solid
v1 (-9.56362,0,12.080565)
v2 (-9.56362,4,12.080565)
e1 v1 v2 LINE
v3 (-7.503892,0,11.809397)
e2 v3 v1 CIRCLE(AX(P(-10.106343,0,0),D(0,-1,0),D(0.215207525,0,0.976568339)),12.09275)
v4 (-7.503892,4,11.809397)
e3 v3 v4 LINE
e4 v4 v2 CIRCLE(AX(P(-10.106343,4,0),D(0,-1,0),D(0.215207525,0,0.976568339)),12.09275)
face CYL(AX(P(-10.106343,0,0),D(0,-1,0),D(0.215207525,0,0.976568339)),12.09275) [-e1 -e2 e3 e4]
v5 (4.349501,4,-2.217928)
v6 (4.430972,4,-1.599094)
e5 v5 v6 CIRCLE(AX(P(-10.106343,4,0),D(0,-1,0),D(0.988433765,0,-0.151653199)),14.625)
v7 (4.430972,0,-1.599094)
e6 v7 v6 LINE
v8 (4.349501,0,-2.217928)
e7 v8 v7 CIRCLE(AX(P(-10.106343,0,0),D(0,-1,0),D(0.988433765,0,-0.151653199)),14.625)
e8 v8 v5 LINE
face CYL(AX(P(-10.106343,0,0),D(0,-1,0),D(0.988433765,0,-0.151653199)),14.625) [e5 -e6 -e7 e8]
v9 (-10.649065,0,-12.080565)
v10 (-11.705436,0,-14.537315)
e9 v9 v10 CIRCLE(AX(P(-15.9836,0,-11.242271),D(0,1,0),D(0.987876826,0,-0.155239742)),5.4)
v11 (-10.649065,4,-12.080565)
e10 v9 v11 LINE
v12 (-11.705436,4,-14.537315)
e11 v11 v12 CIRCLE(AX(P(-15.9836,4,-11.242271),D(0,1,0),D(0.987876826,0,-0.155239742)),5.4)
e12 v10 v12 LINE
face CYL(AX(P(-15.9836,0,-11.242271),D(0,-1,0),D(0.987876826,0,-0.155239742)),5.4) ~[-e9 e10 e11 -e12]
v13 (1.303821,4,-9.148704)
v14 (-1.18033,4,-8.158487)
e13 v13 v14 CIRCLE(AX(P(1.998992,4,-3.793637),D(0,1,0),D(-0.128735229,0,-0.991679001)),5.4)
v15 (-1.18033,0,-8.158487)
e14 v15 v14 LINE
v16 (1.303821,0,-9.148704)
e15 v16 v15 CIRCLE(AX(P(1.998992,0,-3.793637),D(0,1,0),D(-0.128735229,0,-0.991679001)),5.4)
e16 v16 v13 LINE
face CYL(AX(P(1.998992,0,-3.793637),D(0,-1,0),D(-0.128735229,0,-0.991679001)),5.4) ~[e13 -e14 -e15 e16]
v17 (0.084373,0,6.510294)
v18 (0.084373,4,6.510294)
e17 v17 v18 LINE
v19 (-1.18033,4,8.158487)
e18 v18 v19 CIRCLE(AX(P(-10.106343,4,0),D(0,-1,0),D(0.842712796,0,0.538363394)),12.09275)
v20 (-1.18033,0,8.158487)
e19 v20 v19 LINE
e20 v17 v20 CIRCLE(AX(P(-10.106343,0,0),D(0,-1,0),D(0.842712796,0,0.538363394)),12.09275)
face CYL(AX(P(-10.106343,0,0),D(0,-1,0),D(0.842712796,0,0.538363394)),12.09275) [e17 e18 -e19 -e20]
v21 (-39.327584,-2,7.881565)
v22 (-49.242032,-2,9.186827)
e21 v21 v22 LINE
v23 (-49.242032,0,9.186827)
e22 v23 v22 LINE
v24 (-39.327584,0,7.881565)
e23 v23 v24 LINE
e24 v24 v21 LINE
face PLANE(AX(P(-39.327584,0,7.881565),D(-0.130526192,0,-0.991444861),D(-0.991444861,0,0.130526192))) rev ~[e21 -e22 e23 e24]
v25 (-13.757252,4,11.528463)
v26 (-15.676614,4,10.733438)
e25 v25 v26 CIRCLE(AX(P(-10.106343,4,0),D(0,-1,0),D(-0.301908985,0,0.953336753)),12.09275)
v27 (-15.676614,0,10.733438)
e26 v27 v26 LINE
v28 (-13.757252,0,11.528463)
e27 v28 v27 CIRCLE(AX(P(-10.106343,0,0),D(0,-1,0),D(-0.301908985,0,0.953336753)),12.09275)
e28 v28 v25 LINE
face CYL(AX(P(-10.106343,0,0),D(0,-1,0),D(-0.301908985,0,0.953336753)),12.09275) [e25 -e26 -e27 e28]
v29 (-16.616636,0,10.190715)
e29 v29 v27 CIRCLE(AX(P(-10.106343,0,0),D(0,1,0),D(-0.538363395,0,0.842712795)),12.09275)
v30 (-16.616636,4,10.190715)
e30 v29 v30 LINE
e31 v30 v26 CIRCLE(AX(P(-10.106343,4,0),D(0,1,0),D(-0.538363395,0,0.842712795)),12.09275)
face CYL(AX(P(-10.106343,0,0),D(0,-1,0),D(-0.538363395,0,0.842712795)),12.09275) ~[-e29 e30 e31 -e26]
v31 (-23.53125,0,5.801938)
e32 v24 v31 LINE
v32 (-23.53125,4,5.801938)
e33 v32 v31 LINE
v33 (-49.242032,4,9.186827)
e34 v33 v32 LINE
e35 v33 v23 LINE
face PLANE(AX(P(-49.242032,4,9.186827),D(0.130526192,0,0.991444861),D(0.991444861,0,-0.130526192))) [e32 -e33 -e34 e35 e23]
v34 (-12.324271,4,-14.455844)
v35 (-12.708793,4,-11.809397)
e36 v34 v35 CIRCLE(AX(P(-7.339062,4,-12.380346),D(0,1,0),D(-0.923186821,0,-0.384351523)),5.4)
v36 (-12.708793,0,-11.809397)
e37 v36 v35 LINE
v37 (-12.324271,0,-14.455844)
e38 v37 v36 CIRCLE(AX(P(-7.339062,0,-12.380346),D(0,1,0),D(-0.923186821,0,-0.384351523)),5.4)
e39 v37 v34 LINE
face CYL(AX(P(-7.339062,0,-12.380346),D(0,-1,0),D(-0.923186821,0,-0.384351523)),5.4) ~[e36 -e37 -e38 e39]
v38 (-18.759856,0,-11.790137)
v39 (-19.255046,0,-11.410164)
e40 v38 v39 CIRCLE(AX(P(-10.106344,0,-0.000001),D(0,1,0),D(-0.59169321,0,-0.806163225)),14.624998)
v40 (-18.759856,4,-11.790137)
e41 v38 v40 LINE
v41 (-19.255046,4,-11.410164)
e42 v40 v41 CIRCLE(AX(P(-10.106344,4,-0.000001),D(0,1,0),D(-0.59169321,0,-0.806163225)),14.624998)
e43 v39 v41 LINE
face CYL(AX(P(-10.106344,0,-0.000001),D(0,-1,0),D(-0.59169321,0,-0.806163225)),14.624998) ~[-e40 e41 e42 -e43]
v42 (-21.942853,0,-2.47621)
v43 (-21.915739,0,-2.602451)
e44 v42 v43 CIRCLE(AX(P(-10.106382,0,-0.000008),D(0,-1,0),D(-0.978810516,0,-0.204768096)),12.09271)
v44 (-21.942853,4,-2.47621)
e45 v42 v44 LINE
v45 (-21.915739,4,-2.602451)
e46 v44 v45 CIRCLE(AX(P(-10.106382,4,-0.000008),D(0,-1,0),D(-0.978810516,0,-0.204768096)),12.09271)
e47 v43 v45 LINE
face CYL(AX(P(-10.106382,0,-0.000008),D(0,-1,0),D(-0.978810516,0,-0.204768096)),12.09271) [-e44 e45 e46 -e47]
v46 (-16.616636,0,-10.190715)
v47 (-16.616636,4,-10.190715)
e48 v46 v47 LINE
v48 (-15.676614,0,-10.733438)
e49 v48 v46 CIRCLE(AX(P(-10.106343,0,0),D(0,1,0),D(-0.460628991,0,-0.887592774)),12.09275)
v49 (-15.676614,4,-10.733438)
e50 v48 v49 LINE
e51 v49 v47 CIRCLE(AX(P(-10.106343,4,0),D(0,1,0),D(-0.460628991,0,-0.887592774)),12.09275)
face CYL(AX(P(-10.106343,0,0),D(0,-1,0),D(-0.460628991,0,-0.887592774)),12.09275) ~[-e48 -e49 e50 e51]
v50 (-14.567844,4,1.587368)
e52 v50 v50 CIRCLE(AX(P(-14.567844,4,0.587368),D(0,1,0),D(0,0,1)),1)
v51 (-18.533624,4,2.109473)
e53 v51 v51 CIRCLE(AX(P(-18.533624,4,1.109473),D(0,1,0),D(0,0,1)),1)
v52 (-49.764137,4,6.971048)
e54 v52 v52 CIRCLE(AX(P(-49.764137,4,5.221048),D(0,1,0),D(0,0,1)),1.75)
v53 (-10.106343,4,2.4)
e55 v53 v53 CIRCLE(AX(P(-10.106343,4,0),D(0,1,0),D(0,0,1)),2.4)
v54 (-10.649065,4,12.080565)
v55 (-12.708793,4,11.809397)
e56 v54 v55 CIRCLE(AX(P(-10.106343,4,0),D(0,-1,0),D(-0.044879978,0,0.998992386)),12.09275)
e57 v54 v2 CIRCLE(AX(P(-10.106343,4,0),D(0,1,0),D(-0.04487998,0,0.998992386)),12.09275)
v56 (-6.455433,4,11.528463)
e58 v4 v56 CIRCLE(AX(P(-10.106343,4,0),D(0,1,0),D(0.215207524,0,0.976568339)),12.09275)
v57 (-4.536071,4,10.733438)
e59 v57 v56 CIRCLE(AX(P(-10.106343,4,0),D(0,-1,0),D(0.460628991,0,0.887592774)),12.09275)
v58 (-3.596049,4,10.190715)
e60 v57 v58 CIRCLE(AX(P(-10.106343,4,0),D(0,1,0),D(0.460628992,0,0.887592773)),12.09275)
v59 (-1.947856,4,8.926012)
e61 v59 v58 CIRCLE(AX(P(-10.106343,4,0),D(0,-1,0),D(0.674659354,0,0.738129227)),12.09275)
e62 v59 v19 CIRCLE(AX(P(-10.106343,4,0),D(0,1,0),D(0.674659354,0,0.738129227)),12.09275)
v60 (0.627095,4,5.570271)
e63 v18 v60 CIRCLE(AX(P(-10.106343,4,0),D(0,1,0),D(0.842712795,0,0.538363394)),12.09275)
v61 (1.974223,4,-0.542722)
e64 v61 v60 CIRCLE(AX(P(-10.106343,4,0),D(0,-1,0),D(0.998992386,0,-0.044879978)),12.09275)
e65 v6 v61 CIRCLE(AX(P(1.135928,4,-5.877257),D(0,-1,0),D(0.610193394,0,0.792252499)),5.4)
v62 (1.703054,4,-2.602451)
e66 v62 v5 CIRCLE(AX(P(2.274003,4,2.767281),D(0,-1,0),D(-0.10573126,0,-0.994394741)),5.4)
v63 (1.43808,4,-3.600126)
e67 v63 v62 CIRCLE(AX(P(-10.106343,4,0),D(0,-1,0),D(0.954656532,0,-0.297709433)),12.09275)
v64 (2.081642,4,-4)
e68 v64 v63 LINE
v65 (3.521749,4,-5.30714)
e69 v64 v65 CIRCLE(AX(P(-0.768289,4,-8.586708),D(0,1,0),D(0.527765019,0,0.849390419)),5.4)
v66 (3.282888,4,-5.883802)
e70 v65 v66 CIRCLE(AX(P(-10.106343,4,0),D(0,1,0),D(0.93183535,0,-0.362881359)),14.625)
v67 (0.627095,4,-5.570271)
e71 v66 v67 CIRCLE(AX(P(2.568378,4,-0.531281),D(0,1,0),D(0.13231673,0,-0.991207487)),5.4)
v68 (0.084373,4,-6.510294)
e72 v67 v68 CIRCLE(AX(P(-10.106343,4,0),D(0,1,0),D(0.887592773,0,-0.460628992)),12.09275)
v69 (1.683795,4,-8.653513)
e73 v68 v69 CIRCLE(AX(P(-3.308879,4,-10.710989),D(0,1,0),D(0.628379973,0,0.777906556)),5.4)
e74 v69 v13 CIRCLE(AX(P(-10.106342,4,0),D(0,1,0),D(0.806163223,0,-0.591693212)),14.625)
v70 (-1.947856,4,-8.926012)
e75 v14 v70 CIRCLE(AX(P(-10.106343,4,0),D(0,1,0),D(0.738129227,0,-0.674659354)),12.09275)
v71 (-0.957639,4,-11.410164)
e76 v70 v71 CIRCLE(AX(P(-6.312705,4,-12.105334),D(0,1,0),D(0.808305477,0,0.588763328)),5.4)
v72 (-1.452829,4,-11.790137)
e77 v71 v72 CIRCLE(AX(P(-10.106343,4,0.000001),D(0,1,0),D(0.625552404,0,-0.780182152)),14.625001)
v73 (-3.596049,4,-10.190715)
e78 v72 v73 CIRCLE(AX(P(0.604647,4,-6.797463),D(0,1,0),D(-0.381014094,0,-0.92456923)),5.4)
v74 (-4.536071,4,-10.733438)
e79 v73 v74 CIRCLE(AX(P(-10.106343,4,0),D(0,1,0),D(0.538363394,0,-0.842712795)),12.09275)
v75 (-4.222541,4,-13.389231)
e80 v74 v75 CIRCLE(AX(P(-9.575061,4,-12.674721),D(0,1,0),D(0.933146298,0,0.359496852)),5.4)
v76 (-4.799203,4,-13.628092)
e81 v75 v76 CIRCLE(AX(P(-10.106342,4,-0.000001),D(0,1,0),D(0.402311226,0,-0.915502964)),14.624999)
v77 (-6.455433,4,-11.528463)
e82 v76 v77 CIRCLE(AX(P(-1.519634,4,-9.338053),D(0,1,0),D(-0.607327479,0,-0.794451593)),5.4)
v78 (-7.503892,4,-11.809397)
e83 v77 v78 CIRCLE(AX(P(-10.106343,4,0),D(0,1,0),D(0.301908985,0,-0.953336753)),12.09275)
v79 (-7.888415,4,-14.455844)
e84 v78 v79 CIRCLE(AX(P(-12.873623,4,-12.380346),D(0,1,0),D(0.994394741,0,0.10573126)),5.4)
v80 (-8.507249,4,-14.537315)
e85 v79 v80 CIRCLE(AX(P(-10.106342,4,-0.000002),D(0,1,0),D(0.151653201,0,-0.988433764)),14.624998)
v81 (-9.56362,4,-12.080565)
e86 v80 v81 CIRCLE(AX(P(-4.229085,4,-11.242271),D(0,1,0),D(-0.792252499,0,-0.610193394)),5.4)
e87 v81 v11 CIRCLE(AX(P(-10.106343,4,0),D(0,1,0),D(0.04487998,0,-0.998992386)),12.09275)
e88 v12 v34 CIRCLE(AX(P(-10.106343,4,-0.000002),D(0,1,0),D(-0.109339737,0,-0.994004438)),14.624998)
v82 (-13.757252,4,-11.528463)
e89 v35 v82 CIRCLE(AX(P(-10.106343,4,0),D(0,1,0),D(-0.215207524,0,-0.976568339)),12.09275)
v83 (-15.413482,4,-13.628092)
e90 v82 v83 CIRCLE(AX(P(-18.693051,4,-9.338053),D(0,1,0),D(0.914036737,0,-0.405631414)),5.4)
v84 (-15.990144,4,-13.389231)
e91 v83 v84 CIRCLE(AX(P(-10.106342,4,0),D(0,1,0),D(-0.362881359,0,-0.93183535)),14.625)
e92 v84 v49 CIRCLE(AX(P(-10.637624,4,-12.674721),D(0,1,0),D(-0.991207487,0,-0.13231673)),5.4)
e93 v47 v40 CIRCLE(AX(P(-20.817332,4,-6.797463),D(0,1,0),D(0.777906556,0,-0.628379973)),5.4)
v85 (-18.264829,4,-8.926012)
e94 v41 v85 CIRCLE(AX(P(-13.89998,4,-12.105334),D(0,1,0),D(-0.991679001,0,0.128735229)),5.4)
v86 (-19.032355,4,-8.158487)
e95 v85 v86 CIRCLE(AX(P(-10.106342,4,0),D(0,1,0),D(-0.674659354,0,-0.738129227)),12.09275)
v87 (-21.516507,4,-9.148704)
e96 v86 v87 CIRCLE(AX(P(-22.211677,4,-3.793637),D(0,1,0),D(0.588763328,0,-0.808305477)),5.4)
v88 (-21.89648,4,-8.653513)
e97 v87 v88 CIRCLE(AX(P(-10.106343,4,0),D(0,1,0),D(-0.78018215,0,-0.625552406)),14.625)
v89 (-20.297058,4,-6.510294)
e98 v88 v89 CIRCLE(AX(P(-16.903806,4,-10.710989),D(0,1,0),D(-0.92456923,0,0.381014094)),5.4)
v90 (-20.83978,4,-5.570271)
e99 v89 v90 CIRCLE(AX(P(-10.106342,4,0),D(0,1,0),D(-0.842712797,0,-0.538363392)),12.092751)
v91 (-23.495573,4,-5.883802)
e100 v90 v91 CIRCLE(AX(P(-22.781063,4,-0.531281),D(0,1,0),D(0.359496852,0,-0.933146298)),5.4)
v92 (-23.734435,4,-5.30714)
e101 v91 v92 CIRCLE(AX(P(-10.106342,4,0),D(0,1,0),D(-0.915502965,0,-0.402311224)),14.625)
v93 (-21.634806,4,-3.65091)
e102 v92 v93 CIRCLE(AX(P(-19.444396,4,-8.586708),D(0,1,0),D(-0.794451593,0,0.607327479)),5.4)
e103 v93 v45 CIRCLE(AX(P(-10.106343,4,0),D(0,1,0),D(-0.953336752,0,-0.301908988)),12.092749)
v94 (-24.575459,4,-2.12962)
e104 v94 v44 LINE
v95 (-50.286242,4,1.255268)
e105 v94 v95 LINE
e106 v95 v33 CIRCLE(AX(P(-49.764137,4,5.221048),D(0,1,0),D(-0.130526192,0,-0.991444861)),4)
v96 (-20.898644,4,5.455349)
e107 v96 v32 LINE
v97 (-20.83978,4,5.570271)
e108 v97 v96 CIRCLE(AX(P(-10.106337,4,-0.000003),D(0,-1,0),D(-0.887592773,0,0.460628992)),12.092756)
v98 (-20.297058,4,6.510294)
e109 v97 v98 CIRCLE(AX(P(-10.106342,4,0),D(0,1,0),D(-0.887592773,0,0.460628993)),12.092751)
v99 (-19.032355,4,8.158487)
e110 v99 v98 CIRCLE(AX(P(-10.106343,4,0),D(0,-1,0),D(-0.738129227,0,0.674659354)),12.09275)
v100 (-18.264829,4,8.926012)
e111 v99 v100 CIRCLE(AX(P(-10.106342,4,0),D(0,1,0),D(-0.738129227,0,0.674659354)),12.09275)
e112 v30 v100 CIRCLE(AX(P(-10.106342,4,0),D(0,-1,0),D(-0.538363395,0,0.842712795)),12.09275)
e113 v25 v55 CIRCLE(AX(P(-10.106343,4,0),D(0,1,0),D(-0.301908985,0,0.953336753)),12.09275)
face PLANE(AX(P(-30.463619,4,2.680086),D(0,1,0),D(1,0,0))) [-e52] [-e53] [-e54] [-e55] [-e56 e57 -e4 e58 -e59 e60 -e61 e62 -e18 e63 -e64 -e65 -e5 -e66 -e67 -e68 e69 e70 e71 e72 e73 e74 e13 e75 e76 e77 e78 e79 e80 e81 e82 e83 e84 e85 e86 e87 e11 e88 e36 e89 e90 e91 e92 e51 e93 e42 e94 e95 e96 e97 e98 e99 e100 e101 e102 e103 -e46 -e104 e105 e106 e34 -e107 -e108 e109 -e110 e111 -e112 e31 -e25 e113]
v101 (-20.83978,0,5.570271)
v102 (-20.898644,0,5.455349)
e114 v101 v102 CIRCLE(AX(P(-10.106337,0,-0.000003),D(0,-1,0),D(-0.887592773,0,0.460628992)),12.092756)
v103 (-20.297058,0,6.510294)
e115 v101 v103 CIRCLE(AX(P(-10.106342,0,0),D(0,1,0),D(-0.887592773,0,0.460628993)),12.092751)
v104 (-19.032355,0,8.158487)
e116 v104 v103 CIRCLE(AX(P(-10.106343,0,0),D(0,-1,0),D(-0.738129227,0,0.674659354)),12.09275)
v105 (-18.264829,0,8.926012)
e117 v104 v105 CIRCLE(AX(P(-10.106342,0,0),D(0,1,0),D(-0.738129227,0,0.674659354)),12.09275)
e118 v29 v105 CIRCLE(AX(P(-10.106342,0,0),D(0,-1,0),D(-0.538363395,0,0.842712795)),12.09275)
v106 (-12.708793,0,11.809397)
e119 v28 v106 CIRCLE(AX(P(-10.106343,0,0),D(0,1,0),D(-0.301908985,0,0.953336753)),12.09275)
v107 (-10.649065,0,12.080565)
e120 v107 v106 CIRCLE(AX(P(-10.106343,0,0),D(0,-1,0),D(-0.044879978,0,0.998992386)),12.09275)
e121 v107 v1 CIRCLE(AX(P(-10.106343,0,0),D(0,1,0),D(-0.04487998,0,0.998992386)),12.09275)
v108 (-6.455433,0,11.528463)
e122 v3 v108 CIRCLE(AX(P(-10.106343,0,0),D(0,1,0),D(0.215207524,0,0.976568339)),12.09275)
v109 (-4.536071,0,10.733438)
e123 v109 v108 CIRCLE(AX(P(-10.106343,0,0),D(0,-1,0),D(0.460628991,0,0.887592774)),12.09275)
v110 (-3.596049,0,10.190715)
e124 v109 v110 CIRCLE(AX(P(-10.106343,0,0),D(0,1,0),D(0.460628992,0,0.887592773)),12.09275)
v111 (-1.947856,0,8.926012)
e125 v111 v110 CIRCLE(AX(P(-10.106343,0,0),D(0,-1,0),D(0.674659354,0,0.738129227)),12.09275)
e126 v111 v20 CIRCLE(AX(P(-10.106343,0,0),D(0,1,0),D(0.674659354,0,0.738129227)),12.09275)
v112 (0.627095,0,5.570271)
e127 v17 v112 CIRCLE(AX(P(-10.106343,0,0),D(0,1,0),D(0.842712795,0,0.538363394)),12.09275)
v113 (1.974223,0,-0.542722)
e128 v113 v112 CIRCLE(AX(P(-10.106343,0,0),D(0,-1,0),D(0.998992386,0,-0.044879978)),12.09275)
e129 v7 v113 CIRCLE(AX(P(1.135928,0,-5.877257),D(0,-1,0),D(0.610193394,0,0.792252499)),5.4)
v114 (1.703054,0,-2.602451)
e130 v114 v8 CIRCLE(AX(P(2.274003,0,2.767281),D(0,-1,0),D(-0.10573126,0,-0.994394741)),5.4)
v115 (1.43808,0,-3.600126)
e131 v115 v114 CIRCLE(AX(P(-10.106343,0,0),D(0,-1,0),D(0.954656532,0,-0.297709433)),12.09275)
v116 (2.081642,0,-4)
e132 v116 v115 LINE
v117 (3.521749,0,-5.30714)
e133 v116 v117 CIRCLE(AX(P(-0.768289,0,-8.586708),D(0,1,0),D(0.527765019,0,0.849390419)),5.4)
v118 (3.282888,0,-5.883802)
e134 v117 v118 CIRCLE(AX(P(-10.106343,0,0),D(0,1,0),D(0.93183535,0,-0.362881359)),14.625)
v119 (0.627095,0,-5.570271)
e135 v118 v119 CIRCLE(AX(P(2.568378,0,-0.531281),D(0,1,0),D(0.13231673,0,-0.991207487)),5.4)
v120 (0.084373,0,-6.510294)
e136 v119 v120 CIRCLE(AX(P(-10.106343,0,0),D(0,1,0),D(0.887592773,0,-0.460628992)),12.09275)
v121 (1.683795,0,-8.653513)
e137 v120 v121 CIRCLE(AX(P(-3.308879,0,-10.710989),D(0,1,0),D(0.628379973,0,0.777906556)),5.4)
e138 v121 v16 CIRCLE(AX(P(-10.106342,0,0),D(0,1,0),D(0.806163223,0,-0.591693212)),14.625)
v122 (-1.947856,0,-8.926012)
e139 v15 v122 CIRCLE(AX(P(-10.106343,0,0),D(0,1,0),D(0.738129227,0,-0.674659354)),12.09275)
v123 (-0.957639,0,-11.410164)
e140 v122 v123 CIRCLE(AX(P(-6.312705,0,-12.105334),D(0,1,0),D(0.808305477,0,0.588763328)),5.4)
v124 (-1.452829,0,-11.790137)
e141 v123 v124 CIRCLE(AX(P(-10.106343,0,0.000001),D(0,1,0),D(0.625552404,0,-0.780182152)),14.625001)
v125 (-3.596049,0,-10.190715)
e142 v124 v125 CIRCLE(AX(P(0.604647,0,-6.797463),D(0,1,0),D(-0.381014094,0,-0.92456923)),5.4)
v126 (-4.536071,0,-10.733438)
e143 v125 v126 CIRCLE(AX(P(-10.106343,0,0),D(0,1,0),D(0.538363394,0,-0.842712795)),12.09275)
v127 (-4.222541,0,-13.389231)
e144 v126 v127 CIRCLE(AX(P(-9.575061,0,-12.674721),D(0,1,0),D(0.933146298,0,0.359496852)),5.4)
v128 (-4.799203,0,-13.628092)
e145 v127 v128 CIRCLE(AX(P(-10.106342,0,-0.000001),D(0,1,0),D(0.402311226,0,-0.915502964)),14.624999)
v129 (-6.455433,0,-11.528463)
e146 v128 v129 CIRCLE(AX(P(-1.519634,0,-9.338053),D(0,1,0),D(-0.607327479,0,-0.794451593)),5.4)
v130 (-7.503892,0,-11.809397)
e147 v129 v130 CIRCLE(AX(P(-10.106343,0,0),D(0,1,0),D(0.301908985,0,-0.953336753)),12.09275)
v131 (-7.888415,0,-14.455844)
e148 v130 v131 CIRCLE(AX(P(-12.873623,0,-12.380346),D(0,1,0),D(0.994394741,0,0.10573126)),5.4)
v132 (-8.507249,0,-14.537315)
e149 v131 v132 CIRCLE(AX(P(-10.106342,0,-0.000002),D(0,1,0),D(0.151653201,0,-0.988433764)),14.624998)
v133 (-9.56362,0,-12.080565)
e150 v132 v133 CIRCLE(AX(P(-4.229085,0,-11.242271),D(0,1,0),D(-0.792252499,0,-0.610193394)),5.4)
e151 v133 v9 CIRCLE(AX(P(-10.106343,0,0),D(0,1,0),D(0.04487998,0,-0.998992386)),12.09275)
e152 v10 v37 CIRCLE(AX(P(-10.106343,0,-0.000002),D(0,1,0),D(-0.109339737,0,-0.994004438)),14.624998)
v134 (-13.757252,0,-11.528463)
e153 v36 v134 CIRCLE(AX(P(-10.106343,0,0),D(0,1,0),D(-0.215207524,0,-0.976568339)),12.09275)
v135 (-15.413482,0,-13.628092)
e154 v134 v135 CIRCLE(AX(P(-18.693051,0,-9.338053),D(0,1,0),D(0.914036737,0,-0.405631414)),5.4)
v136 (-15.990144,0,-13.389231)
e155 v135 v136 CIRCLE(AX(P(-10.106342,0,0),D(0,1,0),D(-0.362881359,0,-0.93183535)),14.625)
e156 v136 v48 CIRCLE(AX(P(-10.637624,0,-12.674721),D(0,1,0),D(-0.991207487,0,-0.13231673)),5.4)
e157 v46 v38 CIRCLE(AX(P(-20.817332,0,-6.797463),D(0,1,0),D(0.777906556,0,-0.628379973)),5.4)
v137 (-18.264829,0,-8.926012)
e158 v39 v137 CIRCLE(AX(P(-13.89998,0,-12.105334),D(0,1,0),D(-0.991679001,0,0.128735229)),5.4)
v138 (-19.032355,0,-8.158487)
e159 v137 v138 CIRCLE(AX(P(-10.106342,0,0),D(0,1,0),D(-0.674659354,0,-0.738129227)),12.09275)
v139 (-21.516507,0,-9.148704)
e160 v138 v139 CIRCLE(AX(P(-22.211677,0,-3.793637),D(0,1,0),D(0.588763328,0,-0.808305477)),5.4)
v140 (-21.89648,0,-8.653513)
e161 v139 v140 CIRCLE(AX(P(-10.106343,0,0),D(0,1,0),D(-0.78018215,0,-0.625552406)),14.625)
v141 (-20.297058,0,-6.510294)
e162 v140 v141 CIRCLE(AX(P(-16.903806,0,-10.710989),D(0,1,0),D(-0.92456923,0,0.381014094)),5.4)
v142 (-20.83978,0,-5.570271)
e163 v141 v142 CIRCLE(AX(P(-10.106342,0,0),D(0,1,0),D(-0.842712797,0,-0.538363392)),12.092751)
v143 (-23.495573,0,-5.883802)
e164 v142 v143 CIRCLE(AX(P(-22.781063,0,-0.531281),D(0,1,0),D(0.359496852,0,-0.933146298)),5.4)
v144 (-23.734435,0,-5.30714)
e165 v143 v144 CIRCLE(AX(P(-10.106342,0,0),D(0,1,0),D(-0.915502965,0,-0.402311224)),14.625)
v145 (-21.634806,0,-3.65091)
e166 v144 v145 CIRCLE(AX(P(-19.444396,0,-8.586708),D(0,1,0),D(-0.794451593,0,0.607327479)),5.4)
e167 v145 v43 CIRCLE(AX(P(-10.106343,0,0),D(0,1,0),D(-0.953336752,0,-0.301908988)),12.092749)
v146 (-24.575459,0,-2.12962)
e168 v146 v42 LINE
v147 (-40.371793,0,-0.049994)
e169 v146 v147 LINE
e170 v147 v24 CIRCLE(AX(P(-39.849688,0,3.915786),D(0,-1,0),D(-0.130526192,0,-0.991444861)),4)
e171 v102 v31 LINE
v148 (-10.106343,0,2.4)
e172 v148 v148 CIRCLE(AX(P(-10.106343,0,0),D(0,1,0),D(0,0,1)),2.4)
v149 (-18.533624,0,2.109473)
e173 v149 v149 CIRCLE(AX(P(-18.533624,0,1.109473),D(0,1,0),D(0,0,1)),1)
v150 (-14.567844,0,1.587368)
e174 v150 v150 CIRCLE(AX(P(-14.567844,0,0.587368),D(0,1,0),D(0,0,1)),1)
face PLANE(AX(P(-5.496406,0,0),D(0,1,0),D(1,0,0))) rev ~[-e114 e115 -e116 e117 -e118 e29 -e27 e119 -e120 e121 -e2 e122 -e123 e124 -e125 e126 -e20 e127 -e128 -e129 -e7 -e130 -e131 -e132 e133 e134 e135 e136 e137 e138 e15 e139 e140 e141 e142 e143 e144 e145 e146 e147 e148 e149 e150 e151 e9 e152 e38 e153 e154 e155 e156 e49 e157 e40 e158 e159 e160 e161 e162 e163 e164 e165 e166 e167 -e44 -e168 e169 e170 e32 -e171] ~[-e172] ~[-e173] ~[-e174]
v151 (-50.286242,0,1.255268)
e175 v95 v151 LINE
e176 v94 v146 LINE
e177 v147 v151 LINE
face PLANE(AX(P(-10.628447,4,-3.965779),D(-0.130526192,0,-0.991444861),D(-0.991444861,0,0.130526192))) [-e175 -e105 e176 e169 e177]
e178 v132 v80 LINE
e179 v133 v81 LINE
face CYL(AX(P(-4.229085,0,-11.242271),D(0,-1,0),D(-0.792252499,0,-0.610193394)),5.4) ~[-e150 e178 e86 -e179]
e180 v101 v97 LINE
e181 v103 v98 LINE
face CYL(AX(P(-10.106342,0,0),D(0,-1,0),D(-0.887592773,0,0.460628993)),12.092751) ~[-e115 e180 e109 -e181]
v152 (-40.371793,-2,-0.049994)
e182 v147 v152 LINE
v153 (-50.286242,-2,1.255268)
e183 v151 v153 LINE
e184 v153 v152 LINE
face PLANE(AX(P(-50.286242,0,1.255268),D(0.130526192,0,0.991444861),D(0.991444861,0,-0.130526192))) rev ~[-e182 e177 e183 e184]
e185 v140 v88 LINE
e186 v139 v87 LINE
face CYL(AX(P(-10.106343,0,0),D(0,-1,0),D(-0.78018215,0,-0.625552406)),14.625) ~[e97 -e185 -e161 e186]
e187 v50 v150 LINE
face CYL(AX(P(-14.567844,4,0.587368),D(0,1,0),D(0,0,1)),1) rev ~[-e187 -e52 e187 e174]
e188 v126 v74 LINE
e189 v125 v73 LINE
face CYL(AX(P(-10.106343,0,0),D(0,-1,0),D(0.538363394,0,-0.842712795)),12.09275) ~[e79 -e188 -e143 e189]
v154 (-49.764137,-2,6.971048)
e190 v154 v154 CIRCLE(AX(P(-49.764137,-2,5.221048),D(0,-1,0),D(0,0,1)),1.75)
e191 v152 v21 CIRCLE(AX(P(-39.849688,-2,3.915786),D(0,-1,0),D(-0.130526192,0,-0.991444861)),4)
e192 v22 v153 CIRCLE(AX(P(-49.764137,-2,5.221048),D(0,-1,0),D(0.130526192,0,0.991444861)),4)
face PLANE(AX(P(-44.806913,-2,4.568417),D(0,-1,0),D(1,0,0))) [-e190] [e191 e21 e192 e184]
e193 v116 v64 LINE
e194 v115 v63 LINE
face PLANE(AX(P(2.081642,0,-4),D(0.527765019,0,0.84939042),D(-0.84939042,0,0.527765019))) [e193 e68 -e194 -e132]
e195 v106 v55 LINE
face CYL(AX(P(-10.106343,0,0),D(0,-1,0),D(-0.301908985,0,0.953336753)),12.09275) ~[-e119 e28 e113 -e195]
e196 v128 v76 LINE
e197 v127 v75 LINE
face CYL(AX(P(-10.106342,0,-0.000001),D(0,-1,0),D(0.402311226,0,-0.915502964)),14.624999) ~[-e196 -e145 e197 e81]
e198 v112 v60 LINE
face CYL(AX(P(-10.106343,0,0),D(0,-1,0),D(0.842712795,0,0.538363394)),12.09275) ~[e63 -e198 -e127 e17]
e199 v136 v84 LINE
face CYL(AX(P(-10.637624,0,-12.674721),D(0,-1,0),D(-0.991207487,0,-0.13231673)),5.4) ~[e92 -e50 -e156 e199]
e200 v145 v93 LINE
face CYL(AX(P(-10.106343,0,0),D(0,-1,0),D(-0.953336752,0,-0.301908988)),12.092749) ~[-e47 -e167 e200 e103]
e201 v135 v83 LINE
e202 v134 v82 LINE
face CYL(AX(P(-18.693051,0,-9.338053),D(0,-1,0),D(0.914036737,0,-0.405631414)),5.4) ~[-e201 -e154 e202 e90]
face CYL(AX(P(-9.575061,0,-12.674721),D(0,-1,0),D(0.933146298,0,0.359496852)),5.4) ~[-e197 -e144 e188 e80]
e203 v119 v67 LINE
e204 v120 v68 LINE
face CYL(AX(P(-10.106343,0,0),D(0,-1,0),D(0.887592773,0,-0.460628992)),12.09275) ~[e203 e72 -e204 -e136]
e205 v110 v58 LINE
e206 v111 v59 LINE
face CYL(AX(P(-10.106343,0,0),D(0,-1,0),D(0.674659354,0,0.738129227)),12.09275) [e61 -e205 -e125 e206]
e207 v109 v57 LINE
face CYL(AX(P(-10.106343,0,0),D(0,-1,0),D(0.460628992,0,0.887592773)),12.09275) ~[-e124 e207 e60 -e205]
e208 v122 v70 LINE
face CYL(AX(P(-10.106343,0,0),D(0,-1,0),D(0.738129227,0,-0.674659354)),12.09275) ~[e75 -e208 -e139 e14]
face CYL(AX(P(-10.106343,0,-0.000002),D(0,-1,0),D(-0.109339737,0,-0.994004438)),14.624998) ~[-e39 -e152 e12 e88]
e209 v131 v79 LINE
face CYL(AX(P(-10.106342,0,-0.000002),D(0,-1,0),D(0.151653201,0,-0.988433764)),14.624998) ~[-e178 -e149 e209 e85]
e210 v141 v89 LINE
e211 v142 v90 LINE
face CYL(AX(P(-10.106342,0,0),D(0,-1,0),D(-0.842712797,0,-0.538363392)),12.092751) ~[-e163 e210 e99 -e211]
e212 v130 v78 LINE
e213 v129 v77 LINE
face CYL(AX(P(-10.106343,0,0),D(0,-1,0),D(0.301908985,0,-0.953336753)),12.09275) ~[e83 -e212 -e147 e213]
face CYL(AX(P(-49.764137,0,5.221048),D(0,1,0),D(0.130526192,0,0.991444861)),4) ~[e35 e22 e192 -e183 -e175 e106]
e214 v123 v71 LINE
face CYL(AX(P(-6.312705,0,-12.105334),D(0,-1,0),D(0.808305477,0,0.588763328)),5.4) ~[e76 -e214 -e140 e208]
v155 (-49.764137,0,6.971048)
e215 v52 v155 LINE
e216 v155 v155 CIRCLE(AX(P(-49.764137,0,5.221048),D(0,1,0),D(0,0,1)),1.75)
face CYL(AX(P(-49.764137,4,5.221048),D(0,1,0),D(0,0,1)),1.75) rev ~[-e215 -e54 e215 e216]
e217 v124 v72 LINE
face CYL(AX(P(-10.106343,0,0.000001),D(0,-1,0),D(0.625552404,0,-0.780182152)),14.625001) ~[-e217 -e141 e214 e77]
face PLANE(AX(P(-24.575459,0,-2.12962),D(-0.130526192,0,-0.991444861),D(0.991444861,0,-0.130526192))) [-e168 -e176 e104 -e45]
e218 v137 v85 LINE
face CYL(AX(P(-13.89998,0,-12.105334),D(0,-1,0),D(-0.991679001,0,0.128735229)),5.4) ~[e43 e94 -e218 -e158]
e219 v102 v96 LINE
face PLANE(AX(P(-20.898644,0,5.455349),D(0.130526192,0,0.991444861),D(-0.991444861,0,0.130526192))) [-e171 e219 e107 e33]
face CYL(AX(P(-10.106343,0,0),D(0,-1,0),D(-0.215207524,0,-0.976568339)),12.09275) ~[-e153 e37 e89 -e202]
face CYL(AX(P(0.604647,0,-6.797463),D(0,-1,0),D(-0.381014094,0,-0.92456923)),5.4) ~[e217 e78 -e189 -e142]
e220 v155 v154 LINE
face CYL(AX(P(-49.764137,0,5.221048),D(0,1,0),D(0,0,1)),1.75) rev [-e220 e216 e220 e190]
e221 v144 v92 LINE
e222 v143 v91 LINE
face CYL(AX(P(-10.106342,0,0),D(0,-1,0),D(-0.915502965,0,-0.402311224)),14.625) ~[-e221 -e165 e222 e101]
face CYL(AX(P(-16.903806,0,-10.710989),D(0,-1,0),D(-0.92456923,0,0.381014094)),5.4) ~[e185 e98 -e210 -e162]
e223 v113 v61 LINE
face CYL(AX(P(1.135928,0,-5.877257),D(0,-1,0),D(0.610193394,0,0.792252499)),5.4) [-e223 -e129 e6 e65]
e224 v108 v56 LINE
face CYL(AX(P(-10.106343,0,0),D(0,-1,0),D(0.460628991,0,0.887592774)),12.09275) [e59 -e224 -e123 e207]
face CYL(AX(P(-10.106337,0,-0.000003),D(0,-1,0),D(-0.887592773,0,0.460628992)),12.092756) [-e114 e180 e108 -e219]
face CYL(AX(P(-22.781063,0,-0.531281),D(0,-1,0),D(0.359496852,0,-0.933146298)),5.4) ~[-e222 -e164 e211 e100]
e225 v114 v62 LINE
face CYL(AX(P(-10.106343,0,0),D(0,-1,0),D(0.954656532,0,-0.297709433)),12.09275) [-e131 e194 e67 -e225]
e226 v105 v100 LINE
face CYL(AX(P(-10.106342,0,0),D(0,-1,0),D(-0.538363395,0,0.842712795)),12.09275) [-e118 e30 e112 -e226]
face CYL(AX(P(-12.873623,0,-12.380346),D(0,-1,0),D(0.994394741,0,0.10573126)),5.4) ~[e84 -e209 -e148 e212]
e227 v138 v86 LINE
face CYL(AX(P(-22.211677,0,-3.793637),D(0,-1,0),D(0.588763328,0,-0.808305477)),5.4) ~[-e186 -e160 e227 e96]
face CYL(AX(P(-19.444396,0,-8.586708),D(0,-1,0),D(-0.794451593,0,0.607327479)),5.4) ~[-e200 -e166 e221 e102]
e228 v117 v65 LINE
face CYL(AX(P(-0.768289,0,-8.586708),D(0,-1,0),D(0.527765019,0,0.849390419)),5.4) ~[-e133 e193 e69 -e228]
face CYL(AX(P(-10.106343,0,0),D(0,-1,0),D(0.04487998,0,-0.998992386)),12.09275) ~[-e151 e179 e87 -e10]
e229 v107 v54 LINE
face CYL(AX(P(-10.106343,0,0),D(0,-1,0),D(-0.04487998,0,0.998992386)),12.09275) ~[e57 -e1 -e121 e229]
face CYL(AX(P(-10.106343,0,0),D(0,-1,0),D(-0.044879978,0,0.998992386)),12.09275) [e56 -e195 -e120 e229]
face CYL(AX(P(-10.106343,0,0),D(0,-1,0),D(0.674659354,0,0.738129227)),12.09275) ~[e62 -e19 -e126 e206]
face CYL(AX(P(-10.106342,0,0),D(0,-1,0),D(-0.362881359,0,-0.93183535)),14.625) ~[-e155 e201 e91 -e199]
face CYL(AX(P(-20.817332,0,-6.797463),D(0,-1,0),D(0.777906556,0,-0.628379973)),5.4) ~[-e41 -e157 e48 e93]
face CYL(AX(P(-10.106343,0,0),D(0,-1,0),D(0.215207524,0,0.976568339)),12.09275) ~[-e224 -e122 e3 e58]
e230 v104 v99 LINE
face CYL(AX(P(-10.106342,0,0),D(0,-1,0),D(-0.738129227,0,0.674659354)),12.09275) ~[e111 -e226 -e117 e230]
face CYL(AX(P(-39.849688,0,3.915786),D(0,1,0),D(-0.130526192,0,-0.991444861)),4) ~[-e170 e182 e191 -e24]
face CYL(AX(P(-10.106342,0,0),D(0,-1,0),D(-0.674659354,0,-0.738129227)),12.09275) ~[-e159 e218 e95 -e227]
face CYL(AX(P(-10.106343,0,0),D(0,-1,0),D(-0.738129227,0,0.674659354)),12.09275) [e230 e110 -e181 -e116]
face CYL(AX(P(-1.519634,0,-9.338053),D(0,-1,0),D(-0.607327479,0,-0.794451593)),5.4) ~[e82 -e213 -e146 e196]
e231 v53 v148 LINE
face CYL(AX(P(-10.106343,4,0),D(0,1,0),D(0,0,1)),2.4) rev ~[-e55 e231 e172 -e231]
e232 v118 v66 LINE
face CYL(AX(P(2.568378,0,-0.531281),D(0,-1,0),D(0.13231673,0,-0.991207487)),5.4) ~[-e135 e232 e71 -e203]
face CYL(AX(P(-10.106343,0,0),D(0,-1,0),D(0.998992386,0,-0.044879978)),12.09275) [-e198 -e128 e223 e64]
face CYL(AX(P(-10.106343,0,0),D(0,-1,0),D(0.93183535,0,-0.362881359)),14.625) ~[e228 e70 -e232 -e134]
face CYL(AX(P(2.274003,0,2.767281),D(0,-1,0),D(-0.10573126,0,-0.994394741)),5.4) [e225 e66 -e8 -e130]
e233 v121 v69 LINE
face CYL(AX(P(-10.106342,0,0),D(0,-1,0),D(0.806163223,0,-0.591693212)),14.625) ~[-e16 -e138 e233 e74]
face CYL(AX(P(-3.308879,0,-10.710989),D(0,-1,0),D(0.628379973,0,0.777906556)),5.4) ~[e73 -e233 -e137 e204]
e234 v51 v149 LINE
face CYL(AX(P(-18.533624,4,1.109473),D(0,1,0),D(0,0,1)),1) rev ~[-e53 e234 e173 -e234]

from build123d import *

# Parameters (mm, degrees)
SKETCH1_R           = 1.5
BOSS_EXTRUDE1_DEPTH = 4
SKETCH3_R           = 1.75
BOSS_EXTRUDE2_DEPTH = 4
CUT_EXTRUDE1_START  = -4
CUT_EXTRUDE1_DEPTH  = 4
CUT_EXTRUDE2_REACH  = 57.838
SKETCH5_R           = 2.4
SKETCH5_R_2         = 1
SKETCH8_R           = 1.75
BOSS_EXTRUDE3_DEPTH = 2


with BuildPart() as part:
    # Sketch1 → Boss-Extrude1 (new body)
    with BuildSketch(Plane(origin=(0, 0, 0), x_dir=(1, 0, 0), z_dir=(0, 1, 0))):
        with BuildLine():
            Line((20.000000458, 4), (2.081641936, 4))
            ThreePointArc((2.081641936, 4), (2.861028333, 4.588201733), (3.521749436, 5.30713988))
            ThreePointArc((3.521749436, 5.30713988), (3.405395609, 5.596745198), (3.282888305, 5.883801663))
            ThreePointArc((3.282888305, 5.883801663), (1.93527598, 5.894040025), (0.627094961, 5.57027124))
            ThreePointArc((0.627094961, 5.57027124), (0.366286148, 6.046375), (0.084372603, 6.510293938))
            ThreePointArc((0.084372603, 6.510293938), (1.018855105, 7.48132754), (1.683794586, 8.65351323))
            ThreePointArc((1.683794586, 8.65351323), (1.496450048, 8.903135899), (1.303821399, 9.148703928))
            ThreePointArc((1.303821399, 9.148703928), (-0.000522033, 8.809805691), (-1.180330337, 8.158486898))
            ThreePointArc((-1.180330337, 8.158486898), (-1.555477026, 8.550865528), (-1.947855656, 8.926012217))
            ThreePointArc((-1.947855656, 8.926012217), (-1.296536862, 10.105820521), (-0.957638625, 11.410163953))
            ThreePointArc((-0.957638625, 11.410163953), (-1.203206655, 11.602792602), (-1.452829324, 11.79013714))
            ThreePointArc((-1.452829324, 11.79013714), (-2.625015014, 11.125197659), (-3.596048616, 10.190715157))
            ThreePointArc((-3.596048616, 10.190715157), (-4.059967554, 10.472628702), (-4.536071314, 10.733437515))
            ThreePointArc((-4.536071314, 10.733437515), (-4.212302529, 12.041618533), (-4.222540891, 13.389230859))
            ThreePointArc((-4.222540891, 13.389230859), (-4.509597355, 13.511738163), (-4.799202674, 13.62809199))
            ThreePointArc((-4.799202674, 13.62809199), (-5.759348103, 12.682425791), (-6.455432668, 11.528463019))
            ThreePointArc((-6.455432668, 11.528463019), (-6.976508546, 11.680699536), (-7.503891752, 11.809396783))
            ThreePointArc((-7.503891752, 11.809396783), (-7.529737283, 13.156800143), (-7.888414517, 14.455843809))
            ThreePointArc((-7.888414517, 14.455843809), (-8.197396993, 14.499881098), (-8.507248835, 14.537314892))
            ThreePointArc((-8.507248835, 14.537314892), (-9.18992168, 13.375367565), (-9.563620196, 12.080565177))
            ThreePointArc((-9.563620196, 12.080565177), (-10.106342554, 12.09275), (-10.649064912, 12.080565177))
            ThreePointArc((-10.649064912, 12.080565177), (-11.022763428, 13.375367565), (-11.705436272, 14.537314892))
            ThreePointArc((-11.705436272, 14.537314892), (-12.015288115, 14.499881098), (-12.324270591, 14.455843809))
            ThreePointArc((-12.324270591, 14.455843809), (-12.682947825, 13.156800143), (-12.708793355, 11.809396783))
            ThreePointArc((-12.708793355, 11.809396783), (-13.236176561, 11.680699536), (-13.757252439, 11.528463019))
            ThreePointArc((-13.757252439, 11.528463019), (-14.453337005, 12.682425791), (-15.413482434, 13.62809199))
            ThreePointArc((-15.413482434, 13.62809199), (-15.703087752, 13.511738163), (-15.990144217, 13.389230859))
            ThreePointArc((-15.990144217, 13.389230859), (-16.000382579, 12.041618533), (-15.676613793, 10.733437515))
            ThreePointArc((-15.676613793, 10.733437515), (-16.152717554, 10.472628702), (-16.616636492, 10.190715157))
            ThreePointArc((-16.616636492, 10.190715157), (-17.587670094, 11.125197659), (-18.759855783, 11.79013714))
            ThreePointArc((-18.759855783, 11.79013714), (-19.009478453, 11.602792602), (-19.255046482, 11.410163953))
            ThreePointArc((-19.255046482, 11.410163953), (-18.916148245, 10.105820521), (-18.264829452, 8.926012217))
            ThreePointArc((-18.264829452, 8.926012217), (-18.657208082, 8.550865528), (-19.032354771, 8.158486898))
            ThreePointArc((-19.032354771, 8.158486898), (-20.212163074, 8.809805691), (-21.516506507, 9.148703928))
            ThreePointArc((-21.516506507, 9.148703928), (-21.709135156, 8.903135899), (-21.896479694, 8.65351323))
            ThreePointArc((-21.896479694, 8.65351323), (-21.231540213, 7.48132754), (-20.297057711, 6.510293938))
            ThreePointArc((-20.297057711, 6.510293938), (-20.578971255, 6.046375), (-20.839780068, 5.57027124))
            ThreePointArc((-20.839780068, 5.57027124), (-22.147961087, 5.894040025), (-23.495573413, 5.883801663))
            ThreePointArc((-23.495573413, 5.883801663), (-23.618080717, 5.596745198), (-23.734434544, 5.30713988))
            ThreePointArc((-23.734434544, 5.30713988), (-22.788768345, 4.346994451), (-21.634805572, 3.650909885))
            ThreePointArc((-21.634805572, 3.650909885), (-21.78704209, 3.129834008), (-21.915739337, 2.602450802))
            ThreePointArc((-21.915739337, 2.602450802), (-23.263142697, 2.576605271), (-24.562186363, 2.217928037))
            ThreePointArc((-24.562186363, 2.217928037), (-24.606223651, 1.908945561), (-24.643657446, 1.599093719))
            ThreePointArc((-24.643657446, 1.599093719), (-23.481710119, 0.916420874), (-22.186907731, 0.542722358))
            ThreePointArc((-22.186907731, 0.542722358), (-22.199092554, 0), (-22.186907731, -0.542722358))
            ThreePointArc((-22.186907731, -0.542722358), (-23.481710119, -0.916420874), (-24.643657446, -1.599093719))
            ThreePointArc((-24.643657446, -1.599093719), (-24.606223651, -1.908945561), (-24.562186363, -2.217928037))
            ThreePointArc((-24.562186363, -2.217928037), (-23.263142697, -2.576605271), (-21.915739337, -2.602450802))
            ThreePointArc((-21.915739337, -2.602450802), (-21.78704209, -3.129834008), (-21.634805572, -3.650909885))
            ThreePointArc((-21.634805572, -3.650909885), (-22.788768345, -4.346994451), (-23.734434544, -5.30713988))
            ThreePointArc((-23.734434544, -5.30713988), (-23.618080717, -5.596745198), (-23.495573413, -5.883801663))
            ThreePointArc((-23.495573413, -5.883801663), (-22.147961087, -5.894040025), (-20.839780068, -5.57027124))
            ThreePointArc((-20.839780068, -5.57027124), (-20.578971255, -6.046375), (-20.297057711, -6.510293938))
            ThreePointArc((-20.297057711, -6.510293938), (-21.231540213, -7.48132754), (-21.896479694, -8.65351323))
            ThreePointArc((-21.896479694, -8.65351323), (-21.709135156, -8.903135899), (-21.516506507, -9.148703928))
            ThreePointArc((-21.516506507, -9.148703928), (-20.212163074, -8.809805691), (-19.032354771, -8.158486898))
            ThreePointArc((-19.032354771, -8.158486898), (-18.657208082, -8.550865528), (-18.264829452, -8.926012217))
            ThreePointArc((-18.264829452, -8.926012217), (-18.916148245, -10.105820521), (-19.255046482, -11.410163953))
            ThreePointArc((-19.255046482, -11.410163953), (-19.009478453, -11.602792602), (-18.759855783, -11.79013714))
            ThreePointArc((-18.759855783, -11.79013714), (-17.587670094, -11.125197659), (-16.616636492, -10.190715157))
            ThreePointArc((-16.616636492, -10.190715157), (-16.152717554, -10.472628702), (-15.676613793, -10.733437515))
            ThreePointArc((-15.676613793, -10.733437515), (-16.000382579, -12.041618533), (-15.990144217, -13.389230859))
            ThreePointArc((-15.990144217, -13.389230859), (-15.703087752, -13.511738163), (-15.413482434, -13.62809199))
            ThreePointArc((-15.413482434, -13.62809199), (-14.453337005, -12.682425791), (-13.757252439, -11.528463019))
            ThreePointArc((-13.757252439, -11.528463019), (-13.236176561, -11.680699536), (-12.708793355, -11.809396783))
            ThreePointArc((-12.708793355, -11.809396783), (-12.682947825, -13.156800143), (-12.324270591, -14.455843809))
            ThreePointArc((-12.324270591, -14.455843809), (-12.015288115, -14.499881098), (-11.705436272, -14.537314892))
            ThreePointArc((-11.705436272, -14.537314892), (-11.022763428, -13.375367565), (-10.649064912, -12.080565177))
            ThreePointArc((-10.649064912, -12.080565177), (-10.106342554, -12.09275), (-9.563620196, -12.080565177))
            ThreePointArc((-9.563620196, -12.080565177), (-9.18992168, -13.375367565), (-8.507248835, -14.537314892))
            ThreePointArc((-8.507248835, -14.537314892), (-8.197396993, -14.499881098), (-7.888414517, -14.455843809))
            ThreePointArc((-7.888414517, -14.455843809), (-7.529737283, -13.156800143), (-7.503891752, -11.809396783))
            ThreePointArc((-7.503891752, -11.809396783), (-6.976508546, -11.680699536), (-6.455432668, -11.528463019))
            ThreePointArc((-6.455432668, -11.528463019), (-5.759348103, -12.682425791), (-4.799202674, -13.62809199))
            ThreePointArc((-4.799202674, -13.62809199), (-4.509597355, -13.511738163), (-4.222540891, -13.389230859))
            ThreePointArc((-4.222540891, -13.389230859), (-4.212302529, -12.041618533), (-4.536071314, -10.733437515))
            ThreePointArc((-4.536071314, -10.733437515), (-4.059967554, -10.472628702), (-3.596048616, -10.190715157))
            ThreePointArc((-3.596048616, -10.190715157), (-2.625015014, -11.125197659), (-1.452829324, -11.79013714))
            ThreePointArc((-1.452829324, -11.79013714), (-1.203206655, -11.602792602), (-0.957638625, -11.410163953))
            ThreePointArc((-0.957638625, -11.410163953), (-1.296536862, -10.105820521), (-1.947855656, -8.926012217))
            ThreePointArc((-1.947855656, -8.926012217), (-1.555477026, -8.550865528), (-1.180330337, -8.158486898))
            ThreePointArc((-1.180330337, -8.158486898), (-0.000522033, -8.809805691), (1.303821399, -9.148703928))
            ThreePointArc((1.303821399, -9.148703928), (1.496450048, -8.903135899), (1.683794586, -8.65351323))
            ThreePointArc((1.683794586, -8.65351323), (1.018855105, -7.48132754), (0.084372603, -6.510293938))
            ThreePointArc((0.084372603, -6.510293938), (0.366286148, -6.046375), (0.627094961, -5.57027124))
            ThreePointArc((0.627094961, -5.57027124), (1.93527598, -5.894040025), (3.282888305, -5.883801663))
            ThreePointArc((3.282888305, -5.883801663), (3.405395609, -5.596745198), (3.521749436, -5.30713988))
            ThreePointArc((3.521749436, -5.30713988), (2.861028333, -4.588201733), (2.081641936, -4))
            Line((2.081641936, -4), (20.000000458, -4))
            ThreePointArc((20.000000458, -4), (24, 0), (20.000000458, 4))
        make_face()
        with Locations(Location((-10.106342554, 0, 0), (0, 0, 270))):
            Circle(SKETCH1_R, mode=Mode.SUBTRACT)
        with Locations(Location((20, 0, 0), (0, 0, 270))):
            Circle(SKETCH1_R, mode=Mode.SUBTRACT)
    extrude(amount=BOSS_EXTRUDE1_DEPTH)

    # Sketch3 → Boss-Extrude2 (add)
    with BuildSketch(Plane(origin=(0, 4, 0), x_dir=(1, 0, 0), z_dir=(0, 1, 0))):
        with BuildLine():
            ThreePointArc((-9.584237785, -3.965779445), (-14.072121999, -0.522104769), (-10.628447323, 3.965779445))
            Line((-10.628447323, 3.965779445), (-50.286241778, -1.255268243))
            ThreePointArc((-50.286241778, -1.255268243), (-53.729916454, -5.743152458), (-49.24203224, -9.186827134))
            Line((-49.24203224, -9.186827134), (-9.584237785, -3.965779445))
        make_face()
        with Locations(Location((-49.764137009, -5.221047689, 0), (0, 0, 270))):
            Circle(SKETCH3_R, mode=Mode.SUBTRACT)
    extrude(amount=-BOSS_EXTRUDE2_DEPTH)

    # Sketch4 → Cut-Extrude1 (cut)
    with BuildSketch(Plane(origin=(0, 4, 0), x_dir=(1, 0, 0), z_dir=(0, 1, 0)).offset(CUT_EXTRUDE1_START)):
        with BuildLine():
            ThreePointArc((20.000000458, -4), (24, 0), (20.000000458, 4))
            Line((20.000000458, 4), (2.081641936, 4))
            Line((2.081641936, 4), (1.43808022, 3.600125745))
            ThreePointArc((1.43808022, 3.600125745), (1.581217534, 3.104116905), (1.70305423, 2.602450802))
            ThreePointArc((1.70305423, 2.602450802), (3.050457589, 2.576605271), (4.349501255, 2.217928037))
            ThreePointArc((4.349501255, 2.217928037), (4.393538544, 1.908945561), (4.430972339, 1.599093719))
            ThreePointArc((4.430972339, 1.599093719), (3.269025011, 0.916420874), (1.974222624, 0.542722358))
            ThreePointArc((1.974222624, 0.542722358), (1.70305423, -2.602450802), (0.627094961, -5.57027124))
            ThreePointArc((0.627094961, -5.57027124), (1.93527598, -5.894040025), (3.282888305, -5.883801663))
            ThreePointArc((3.282888305, -5.883801663), (3.405395609, -5.596745198), (3.521749436, -5.30713988))
            ThreePointArc((3.521749436, -5.30713988), (2.861028333, -4.588201733), (2.081641936, -4))
            Line((2.081641936, -4), (20.000000458, -4))
        make_face()
        with BuildLine():
            ThreePointArc((1.683794586, -8.65351323), (1.018855105, -7.48132754), (0.084372603, -6.510293938))
            ThreePointArc((0.084372603, -6.510293938), (-0.512518948, -7.361599771), (-1.180330337, -8.158486898))
            ThreePointArc((-1.180330337, -8.158486898), (-0.000522033, -8.809805691), (1.303821399, -9.148703928))
            ThreePointArc((1.303821399, -9.148703928), (1.496450048, -8.903135899), (1.683794586, -8.65351323))
        make_face()
        with BuildLine():
            ThreePointArc((-0.957638625, -11.410163953), (-1.296536862, -10.105820521), (-1.947855656, -8.926012217))
            ThreePointArc((-1.947855656, -8.926012217), (-2.744742783, -9.593823606), (-3.596048616, -10.190715157))
            ThreePointArc((-3.596048616, -10.190715157), (-2.625015014, -11.125197659), (-1.452829324, -11.79013714))
            ThreePointArc((-1.452829324, -11.79013714), (-1.203206655, -11.602792602), (-0.957638625, -11.410163953))
        make_face()
        with BuildLine():
            ThreePointArc((-4.222540891, -13.389230859), (-4.212302529, -12.041618533), (-4.536071314, -10.733437515))
            ThreePointArc((-4.536071314, -10.733437515), (-5.478647477, -11.172244217), (-6.455432668, -11.528463019))
            ThreePointArc((-6.455432668, -11.528463019), (-5.759348103, -12.682425791), (-4.799202674, -13.62809199))
            ThreePointArc((-4.799202674, -13.62809199), (-4.509597355, -13.511738163), (-4.222540891, -13.389230859))
        make_face()
        with BuildLine():
            ThreePointArc((-7.888414517, -14.455843809), (-7.529737283, -13.156800143), (-7.503891752, -11.809396783))
            ThreePointArc((-7.503891752, -11.809396783), (-8.527921943, -11.989294847), (-9.563620196, -12.080565177))
            ThreePointArc((-9.563620196, -12.080565177), (-9.18992168, -13.375367565), (-8.507248835, -14.537314892))
            ThreePointArc((-8.507248835, -14.537314892), (-8.197396993, -14.499881098), (-7.888414517, -14.455843809))
        make_face()
        with BuildLine():
            ThreePointArc((-11.705436272, -14.537314892), (-11.022763428, -13.375367565), (-10.649064912, -12.080565177))
            ThreePointArc((-10.649064912, -12.080565177), (-11.684763165, -11.989294847), (-12.708793355, -11.809396783))
            ThreePointArc((-12.708793355, -11.809396783), (-12.682947825, -13.156800143), (-12.324270591, -14.455843809))
            ThreePointArc((-12.324270591, -14.455843809), (-12.015288115, -14.499881098), (-11.705436272, -14.537314892))
        make_face()
        with BuildLine():
            ThreePointArc((-15.413482434, -13.62809199), (-14.453337005, -12.682425791), (-13.757252439, -11.528463019))
            ThreePointArc((-13.757252439, -11.528463019), (-14.734037631, -11.172244217), (-15.676613793, -10.733437515))
            ThreePointArc((-15.676613793, -10.733437515), (-16.000382579, -12.041618533), (-15.990144217, -13.389230859))
            ThreePointArc((-15.990144217, -13.389230859), (-15.703087752, -13.511738163), (-15.413482434, -13.62809199))
        make_face()
        with BuildLine():
            ThreePointArc((-18.759855783, -11.79013714), (-17.587670094, -11.125197659), (-16.616636492, -10.190715157))
            ThreePointArc((-16.616636492, -10.190715157), (-17.467942324, -9.593823606), (-18.264829452, -8.926012217))
            ThreePointArc((-18.264829452, -8.926012217), (-18.916148245, -10.105820521), (-19.255046482, -11.410163953))
            ThreePointArc((-19.255046482, -11.410163953), (-19.009478453, -11.602792602), (-18.759855783, -11.79013714))
        make_face()
        with BuildLine():
            ThreePointArc((-21.516506507, -9.148703928), (-20.212163074, -8.809805691), (-19.032354771, -8.158486898))
            ThreePointArc((-19.032354771, -8.158486898), (-19.70016616, -7.361599771), (-20.297057711, -6.510293938))
            ThreePointArc((-20.297057711, -6.510293938), (-21.231540213, -7.48132754), (-21.896479694, -8.65351323))
            ThreePointArc((-21.896479694, -8.65351323), (-21.709135156, -8.903135899), (-21.516506507, -9.148703928))
        make_face()
        with BuildLine():
            ThreePointArc((-21.942853375, 2.47620963), (-21.92946485, 2.539366405), (-21.915739337, 2.602450802))
            ThreePointArc((-21.915739337, 2.602450802), (-23.263142697, 2.576605271), (-24.562186363, 2.217928037))
            ThreePointArc((-24.562186363, 2.217928037), (-24.56889027, 2.173784387), (-24.575459377, 2.129620475))
            Line((-24.575459377, 2.129620475), (-21.942853375, 2.47620963))
        make_face()
        with BuildLine():
            ThreePointArc((-23.495573413, -5.883801663), (-22.147961087, -5.894040025), (-20.839780068, -5.57027124))
            ThreePointArc((-20.839780068, -5.57027124), (-20.869365339, -5.512888815), (-20.898643838, -5.455349261))
            Line((-20.898643838, -5.455349261), (-23.531249839, -5.801938416))
            ThreePointArc((-23.531249839, -5.801938416), (-23.513474108, -5.842897269), (-23.495573413, -5.883801663))
        make_face()
    extrude(amount=CUT_EXTRUDE1_DEPTH, mode=Mode.SUBTRACT)

    # Sketch5 → Cut-Extrude2 (cut, up to next)
    with BuildSketch(Plane(origin=(0, 4, 0), x_dir=(1, 0, 0), z_dir=(0, 1, 0)), mode=Mode.PRIVATE) as cut_extrude2_sk1:
        with Locations(Location((-10.106342554, 0, 0), (0, 0, 270))):
            Circle(SKETCH5_R)
    cut_extrude2_tool1 = extrude(cut_extrude2_sk1.sketch, amount=-CUT_EXTRUDE2_REACH, mode=Mode.PRIVATE) & part.part
    # Sketch5 → Cut-Extrude2 (cut, up to next)
    with BuildSketch(Plane(origin=(0, 4, 0), x_dir=(1, 0, 0), z_dir=(0, 1, 0)), mode=Mode.PRIVATE) as cut_extrude2_sk2:
        with Locations(Location((-14.56784443, -0.587367865, 0), (0, 0, 270))):
            Circle(SKETCH5_R_2)
    cut_extrude2_tool2 = extrude(cut_extrude2_sk2.sketch, amount=-CUT_EXTRUDE2_REACH, mode=Mode.PRIVATE) & part.part
    # Sketch5 → Cut-Extrude2 (cut, up to next)
    with BuildSketch(Plane(origin=(0, 4, 0), x_dir=(1, 0, 0), z_dir=(0, 1, 0)), mode=Mode.PRIVATE) as cut_extrude2_sk3:
        with Locations(Location((-18.533623876, -1.109472634, 0), (0, 0, 270))):
            Circle(SKETCH5_R_2)
    cut_extrude2_tool3 = extrude(cut_extrude2_sk3.sketch, amount=-CUT_EXTRUDE2_REACH, mode=Mode.PRIVATE) & part.part
    add(cut_extrude2_tool1.solids().sort_by_distance((-10.106343, 4, 0))[0], mode=Mode.SUBTRACT)
    add(cut_extrude2_tool2.solids().sort_by_distance((-14.567844, 4, 0.587368))[0], mode=Mode.SUBTRACT)
    add(cut_extrude2_tool3.solids().sort_by_distance((-18.533624, 4, 1.109473))[0], mode=Mode.SUBTRACT)

    # Sketch8 → Boss-Extrude3 (add)
    with BuildSketch(Plane.XZ):
        with BuildLine():
            Line((-39.327583626, 7.881565212), (-49.24203224, 9.186827134))
            ThreePointArc((-49.24203224, 9.186827134), (-53.729916454, 5.743152458), (-50.286241778, 1.255268243))
            Line((-50.286241778, 1.255268243), (-40.371793164, -0.049993679))
            ThreePointArc((-40.371793164, -0.049993679), (-35.88390895, 3.393680998), (-39.327583626, 7.881565212))
        make_face()
        with Locations(Location((-49.764137009, 5.221047689, 0), (0, 0, 90))):
            Circle(SKETCH8_R, mode=Mode.SUBTRACT)
    extrude(amount=BOSS_EXTRUDE3_DEPTH)


solid = part.part
